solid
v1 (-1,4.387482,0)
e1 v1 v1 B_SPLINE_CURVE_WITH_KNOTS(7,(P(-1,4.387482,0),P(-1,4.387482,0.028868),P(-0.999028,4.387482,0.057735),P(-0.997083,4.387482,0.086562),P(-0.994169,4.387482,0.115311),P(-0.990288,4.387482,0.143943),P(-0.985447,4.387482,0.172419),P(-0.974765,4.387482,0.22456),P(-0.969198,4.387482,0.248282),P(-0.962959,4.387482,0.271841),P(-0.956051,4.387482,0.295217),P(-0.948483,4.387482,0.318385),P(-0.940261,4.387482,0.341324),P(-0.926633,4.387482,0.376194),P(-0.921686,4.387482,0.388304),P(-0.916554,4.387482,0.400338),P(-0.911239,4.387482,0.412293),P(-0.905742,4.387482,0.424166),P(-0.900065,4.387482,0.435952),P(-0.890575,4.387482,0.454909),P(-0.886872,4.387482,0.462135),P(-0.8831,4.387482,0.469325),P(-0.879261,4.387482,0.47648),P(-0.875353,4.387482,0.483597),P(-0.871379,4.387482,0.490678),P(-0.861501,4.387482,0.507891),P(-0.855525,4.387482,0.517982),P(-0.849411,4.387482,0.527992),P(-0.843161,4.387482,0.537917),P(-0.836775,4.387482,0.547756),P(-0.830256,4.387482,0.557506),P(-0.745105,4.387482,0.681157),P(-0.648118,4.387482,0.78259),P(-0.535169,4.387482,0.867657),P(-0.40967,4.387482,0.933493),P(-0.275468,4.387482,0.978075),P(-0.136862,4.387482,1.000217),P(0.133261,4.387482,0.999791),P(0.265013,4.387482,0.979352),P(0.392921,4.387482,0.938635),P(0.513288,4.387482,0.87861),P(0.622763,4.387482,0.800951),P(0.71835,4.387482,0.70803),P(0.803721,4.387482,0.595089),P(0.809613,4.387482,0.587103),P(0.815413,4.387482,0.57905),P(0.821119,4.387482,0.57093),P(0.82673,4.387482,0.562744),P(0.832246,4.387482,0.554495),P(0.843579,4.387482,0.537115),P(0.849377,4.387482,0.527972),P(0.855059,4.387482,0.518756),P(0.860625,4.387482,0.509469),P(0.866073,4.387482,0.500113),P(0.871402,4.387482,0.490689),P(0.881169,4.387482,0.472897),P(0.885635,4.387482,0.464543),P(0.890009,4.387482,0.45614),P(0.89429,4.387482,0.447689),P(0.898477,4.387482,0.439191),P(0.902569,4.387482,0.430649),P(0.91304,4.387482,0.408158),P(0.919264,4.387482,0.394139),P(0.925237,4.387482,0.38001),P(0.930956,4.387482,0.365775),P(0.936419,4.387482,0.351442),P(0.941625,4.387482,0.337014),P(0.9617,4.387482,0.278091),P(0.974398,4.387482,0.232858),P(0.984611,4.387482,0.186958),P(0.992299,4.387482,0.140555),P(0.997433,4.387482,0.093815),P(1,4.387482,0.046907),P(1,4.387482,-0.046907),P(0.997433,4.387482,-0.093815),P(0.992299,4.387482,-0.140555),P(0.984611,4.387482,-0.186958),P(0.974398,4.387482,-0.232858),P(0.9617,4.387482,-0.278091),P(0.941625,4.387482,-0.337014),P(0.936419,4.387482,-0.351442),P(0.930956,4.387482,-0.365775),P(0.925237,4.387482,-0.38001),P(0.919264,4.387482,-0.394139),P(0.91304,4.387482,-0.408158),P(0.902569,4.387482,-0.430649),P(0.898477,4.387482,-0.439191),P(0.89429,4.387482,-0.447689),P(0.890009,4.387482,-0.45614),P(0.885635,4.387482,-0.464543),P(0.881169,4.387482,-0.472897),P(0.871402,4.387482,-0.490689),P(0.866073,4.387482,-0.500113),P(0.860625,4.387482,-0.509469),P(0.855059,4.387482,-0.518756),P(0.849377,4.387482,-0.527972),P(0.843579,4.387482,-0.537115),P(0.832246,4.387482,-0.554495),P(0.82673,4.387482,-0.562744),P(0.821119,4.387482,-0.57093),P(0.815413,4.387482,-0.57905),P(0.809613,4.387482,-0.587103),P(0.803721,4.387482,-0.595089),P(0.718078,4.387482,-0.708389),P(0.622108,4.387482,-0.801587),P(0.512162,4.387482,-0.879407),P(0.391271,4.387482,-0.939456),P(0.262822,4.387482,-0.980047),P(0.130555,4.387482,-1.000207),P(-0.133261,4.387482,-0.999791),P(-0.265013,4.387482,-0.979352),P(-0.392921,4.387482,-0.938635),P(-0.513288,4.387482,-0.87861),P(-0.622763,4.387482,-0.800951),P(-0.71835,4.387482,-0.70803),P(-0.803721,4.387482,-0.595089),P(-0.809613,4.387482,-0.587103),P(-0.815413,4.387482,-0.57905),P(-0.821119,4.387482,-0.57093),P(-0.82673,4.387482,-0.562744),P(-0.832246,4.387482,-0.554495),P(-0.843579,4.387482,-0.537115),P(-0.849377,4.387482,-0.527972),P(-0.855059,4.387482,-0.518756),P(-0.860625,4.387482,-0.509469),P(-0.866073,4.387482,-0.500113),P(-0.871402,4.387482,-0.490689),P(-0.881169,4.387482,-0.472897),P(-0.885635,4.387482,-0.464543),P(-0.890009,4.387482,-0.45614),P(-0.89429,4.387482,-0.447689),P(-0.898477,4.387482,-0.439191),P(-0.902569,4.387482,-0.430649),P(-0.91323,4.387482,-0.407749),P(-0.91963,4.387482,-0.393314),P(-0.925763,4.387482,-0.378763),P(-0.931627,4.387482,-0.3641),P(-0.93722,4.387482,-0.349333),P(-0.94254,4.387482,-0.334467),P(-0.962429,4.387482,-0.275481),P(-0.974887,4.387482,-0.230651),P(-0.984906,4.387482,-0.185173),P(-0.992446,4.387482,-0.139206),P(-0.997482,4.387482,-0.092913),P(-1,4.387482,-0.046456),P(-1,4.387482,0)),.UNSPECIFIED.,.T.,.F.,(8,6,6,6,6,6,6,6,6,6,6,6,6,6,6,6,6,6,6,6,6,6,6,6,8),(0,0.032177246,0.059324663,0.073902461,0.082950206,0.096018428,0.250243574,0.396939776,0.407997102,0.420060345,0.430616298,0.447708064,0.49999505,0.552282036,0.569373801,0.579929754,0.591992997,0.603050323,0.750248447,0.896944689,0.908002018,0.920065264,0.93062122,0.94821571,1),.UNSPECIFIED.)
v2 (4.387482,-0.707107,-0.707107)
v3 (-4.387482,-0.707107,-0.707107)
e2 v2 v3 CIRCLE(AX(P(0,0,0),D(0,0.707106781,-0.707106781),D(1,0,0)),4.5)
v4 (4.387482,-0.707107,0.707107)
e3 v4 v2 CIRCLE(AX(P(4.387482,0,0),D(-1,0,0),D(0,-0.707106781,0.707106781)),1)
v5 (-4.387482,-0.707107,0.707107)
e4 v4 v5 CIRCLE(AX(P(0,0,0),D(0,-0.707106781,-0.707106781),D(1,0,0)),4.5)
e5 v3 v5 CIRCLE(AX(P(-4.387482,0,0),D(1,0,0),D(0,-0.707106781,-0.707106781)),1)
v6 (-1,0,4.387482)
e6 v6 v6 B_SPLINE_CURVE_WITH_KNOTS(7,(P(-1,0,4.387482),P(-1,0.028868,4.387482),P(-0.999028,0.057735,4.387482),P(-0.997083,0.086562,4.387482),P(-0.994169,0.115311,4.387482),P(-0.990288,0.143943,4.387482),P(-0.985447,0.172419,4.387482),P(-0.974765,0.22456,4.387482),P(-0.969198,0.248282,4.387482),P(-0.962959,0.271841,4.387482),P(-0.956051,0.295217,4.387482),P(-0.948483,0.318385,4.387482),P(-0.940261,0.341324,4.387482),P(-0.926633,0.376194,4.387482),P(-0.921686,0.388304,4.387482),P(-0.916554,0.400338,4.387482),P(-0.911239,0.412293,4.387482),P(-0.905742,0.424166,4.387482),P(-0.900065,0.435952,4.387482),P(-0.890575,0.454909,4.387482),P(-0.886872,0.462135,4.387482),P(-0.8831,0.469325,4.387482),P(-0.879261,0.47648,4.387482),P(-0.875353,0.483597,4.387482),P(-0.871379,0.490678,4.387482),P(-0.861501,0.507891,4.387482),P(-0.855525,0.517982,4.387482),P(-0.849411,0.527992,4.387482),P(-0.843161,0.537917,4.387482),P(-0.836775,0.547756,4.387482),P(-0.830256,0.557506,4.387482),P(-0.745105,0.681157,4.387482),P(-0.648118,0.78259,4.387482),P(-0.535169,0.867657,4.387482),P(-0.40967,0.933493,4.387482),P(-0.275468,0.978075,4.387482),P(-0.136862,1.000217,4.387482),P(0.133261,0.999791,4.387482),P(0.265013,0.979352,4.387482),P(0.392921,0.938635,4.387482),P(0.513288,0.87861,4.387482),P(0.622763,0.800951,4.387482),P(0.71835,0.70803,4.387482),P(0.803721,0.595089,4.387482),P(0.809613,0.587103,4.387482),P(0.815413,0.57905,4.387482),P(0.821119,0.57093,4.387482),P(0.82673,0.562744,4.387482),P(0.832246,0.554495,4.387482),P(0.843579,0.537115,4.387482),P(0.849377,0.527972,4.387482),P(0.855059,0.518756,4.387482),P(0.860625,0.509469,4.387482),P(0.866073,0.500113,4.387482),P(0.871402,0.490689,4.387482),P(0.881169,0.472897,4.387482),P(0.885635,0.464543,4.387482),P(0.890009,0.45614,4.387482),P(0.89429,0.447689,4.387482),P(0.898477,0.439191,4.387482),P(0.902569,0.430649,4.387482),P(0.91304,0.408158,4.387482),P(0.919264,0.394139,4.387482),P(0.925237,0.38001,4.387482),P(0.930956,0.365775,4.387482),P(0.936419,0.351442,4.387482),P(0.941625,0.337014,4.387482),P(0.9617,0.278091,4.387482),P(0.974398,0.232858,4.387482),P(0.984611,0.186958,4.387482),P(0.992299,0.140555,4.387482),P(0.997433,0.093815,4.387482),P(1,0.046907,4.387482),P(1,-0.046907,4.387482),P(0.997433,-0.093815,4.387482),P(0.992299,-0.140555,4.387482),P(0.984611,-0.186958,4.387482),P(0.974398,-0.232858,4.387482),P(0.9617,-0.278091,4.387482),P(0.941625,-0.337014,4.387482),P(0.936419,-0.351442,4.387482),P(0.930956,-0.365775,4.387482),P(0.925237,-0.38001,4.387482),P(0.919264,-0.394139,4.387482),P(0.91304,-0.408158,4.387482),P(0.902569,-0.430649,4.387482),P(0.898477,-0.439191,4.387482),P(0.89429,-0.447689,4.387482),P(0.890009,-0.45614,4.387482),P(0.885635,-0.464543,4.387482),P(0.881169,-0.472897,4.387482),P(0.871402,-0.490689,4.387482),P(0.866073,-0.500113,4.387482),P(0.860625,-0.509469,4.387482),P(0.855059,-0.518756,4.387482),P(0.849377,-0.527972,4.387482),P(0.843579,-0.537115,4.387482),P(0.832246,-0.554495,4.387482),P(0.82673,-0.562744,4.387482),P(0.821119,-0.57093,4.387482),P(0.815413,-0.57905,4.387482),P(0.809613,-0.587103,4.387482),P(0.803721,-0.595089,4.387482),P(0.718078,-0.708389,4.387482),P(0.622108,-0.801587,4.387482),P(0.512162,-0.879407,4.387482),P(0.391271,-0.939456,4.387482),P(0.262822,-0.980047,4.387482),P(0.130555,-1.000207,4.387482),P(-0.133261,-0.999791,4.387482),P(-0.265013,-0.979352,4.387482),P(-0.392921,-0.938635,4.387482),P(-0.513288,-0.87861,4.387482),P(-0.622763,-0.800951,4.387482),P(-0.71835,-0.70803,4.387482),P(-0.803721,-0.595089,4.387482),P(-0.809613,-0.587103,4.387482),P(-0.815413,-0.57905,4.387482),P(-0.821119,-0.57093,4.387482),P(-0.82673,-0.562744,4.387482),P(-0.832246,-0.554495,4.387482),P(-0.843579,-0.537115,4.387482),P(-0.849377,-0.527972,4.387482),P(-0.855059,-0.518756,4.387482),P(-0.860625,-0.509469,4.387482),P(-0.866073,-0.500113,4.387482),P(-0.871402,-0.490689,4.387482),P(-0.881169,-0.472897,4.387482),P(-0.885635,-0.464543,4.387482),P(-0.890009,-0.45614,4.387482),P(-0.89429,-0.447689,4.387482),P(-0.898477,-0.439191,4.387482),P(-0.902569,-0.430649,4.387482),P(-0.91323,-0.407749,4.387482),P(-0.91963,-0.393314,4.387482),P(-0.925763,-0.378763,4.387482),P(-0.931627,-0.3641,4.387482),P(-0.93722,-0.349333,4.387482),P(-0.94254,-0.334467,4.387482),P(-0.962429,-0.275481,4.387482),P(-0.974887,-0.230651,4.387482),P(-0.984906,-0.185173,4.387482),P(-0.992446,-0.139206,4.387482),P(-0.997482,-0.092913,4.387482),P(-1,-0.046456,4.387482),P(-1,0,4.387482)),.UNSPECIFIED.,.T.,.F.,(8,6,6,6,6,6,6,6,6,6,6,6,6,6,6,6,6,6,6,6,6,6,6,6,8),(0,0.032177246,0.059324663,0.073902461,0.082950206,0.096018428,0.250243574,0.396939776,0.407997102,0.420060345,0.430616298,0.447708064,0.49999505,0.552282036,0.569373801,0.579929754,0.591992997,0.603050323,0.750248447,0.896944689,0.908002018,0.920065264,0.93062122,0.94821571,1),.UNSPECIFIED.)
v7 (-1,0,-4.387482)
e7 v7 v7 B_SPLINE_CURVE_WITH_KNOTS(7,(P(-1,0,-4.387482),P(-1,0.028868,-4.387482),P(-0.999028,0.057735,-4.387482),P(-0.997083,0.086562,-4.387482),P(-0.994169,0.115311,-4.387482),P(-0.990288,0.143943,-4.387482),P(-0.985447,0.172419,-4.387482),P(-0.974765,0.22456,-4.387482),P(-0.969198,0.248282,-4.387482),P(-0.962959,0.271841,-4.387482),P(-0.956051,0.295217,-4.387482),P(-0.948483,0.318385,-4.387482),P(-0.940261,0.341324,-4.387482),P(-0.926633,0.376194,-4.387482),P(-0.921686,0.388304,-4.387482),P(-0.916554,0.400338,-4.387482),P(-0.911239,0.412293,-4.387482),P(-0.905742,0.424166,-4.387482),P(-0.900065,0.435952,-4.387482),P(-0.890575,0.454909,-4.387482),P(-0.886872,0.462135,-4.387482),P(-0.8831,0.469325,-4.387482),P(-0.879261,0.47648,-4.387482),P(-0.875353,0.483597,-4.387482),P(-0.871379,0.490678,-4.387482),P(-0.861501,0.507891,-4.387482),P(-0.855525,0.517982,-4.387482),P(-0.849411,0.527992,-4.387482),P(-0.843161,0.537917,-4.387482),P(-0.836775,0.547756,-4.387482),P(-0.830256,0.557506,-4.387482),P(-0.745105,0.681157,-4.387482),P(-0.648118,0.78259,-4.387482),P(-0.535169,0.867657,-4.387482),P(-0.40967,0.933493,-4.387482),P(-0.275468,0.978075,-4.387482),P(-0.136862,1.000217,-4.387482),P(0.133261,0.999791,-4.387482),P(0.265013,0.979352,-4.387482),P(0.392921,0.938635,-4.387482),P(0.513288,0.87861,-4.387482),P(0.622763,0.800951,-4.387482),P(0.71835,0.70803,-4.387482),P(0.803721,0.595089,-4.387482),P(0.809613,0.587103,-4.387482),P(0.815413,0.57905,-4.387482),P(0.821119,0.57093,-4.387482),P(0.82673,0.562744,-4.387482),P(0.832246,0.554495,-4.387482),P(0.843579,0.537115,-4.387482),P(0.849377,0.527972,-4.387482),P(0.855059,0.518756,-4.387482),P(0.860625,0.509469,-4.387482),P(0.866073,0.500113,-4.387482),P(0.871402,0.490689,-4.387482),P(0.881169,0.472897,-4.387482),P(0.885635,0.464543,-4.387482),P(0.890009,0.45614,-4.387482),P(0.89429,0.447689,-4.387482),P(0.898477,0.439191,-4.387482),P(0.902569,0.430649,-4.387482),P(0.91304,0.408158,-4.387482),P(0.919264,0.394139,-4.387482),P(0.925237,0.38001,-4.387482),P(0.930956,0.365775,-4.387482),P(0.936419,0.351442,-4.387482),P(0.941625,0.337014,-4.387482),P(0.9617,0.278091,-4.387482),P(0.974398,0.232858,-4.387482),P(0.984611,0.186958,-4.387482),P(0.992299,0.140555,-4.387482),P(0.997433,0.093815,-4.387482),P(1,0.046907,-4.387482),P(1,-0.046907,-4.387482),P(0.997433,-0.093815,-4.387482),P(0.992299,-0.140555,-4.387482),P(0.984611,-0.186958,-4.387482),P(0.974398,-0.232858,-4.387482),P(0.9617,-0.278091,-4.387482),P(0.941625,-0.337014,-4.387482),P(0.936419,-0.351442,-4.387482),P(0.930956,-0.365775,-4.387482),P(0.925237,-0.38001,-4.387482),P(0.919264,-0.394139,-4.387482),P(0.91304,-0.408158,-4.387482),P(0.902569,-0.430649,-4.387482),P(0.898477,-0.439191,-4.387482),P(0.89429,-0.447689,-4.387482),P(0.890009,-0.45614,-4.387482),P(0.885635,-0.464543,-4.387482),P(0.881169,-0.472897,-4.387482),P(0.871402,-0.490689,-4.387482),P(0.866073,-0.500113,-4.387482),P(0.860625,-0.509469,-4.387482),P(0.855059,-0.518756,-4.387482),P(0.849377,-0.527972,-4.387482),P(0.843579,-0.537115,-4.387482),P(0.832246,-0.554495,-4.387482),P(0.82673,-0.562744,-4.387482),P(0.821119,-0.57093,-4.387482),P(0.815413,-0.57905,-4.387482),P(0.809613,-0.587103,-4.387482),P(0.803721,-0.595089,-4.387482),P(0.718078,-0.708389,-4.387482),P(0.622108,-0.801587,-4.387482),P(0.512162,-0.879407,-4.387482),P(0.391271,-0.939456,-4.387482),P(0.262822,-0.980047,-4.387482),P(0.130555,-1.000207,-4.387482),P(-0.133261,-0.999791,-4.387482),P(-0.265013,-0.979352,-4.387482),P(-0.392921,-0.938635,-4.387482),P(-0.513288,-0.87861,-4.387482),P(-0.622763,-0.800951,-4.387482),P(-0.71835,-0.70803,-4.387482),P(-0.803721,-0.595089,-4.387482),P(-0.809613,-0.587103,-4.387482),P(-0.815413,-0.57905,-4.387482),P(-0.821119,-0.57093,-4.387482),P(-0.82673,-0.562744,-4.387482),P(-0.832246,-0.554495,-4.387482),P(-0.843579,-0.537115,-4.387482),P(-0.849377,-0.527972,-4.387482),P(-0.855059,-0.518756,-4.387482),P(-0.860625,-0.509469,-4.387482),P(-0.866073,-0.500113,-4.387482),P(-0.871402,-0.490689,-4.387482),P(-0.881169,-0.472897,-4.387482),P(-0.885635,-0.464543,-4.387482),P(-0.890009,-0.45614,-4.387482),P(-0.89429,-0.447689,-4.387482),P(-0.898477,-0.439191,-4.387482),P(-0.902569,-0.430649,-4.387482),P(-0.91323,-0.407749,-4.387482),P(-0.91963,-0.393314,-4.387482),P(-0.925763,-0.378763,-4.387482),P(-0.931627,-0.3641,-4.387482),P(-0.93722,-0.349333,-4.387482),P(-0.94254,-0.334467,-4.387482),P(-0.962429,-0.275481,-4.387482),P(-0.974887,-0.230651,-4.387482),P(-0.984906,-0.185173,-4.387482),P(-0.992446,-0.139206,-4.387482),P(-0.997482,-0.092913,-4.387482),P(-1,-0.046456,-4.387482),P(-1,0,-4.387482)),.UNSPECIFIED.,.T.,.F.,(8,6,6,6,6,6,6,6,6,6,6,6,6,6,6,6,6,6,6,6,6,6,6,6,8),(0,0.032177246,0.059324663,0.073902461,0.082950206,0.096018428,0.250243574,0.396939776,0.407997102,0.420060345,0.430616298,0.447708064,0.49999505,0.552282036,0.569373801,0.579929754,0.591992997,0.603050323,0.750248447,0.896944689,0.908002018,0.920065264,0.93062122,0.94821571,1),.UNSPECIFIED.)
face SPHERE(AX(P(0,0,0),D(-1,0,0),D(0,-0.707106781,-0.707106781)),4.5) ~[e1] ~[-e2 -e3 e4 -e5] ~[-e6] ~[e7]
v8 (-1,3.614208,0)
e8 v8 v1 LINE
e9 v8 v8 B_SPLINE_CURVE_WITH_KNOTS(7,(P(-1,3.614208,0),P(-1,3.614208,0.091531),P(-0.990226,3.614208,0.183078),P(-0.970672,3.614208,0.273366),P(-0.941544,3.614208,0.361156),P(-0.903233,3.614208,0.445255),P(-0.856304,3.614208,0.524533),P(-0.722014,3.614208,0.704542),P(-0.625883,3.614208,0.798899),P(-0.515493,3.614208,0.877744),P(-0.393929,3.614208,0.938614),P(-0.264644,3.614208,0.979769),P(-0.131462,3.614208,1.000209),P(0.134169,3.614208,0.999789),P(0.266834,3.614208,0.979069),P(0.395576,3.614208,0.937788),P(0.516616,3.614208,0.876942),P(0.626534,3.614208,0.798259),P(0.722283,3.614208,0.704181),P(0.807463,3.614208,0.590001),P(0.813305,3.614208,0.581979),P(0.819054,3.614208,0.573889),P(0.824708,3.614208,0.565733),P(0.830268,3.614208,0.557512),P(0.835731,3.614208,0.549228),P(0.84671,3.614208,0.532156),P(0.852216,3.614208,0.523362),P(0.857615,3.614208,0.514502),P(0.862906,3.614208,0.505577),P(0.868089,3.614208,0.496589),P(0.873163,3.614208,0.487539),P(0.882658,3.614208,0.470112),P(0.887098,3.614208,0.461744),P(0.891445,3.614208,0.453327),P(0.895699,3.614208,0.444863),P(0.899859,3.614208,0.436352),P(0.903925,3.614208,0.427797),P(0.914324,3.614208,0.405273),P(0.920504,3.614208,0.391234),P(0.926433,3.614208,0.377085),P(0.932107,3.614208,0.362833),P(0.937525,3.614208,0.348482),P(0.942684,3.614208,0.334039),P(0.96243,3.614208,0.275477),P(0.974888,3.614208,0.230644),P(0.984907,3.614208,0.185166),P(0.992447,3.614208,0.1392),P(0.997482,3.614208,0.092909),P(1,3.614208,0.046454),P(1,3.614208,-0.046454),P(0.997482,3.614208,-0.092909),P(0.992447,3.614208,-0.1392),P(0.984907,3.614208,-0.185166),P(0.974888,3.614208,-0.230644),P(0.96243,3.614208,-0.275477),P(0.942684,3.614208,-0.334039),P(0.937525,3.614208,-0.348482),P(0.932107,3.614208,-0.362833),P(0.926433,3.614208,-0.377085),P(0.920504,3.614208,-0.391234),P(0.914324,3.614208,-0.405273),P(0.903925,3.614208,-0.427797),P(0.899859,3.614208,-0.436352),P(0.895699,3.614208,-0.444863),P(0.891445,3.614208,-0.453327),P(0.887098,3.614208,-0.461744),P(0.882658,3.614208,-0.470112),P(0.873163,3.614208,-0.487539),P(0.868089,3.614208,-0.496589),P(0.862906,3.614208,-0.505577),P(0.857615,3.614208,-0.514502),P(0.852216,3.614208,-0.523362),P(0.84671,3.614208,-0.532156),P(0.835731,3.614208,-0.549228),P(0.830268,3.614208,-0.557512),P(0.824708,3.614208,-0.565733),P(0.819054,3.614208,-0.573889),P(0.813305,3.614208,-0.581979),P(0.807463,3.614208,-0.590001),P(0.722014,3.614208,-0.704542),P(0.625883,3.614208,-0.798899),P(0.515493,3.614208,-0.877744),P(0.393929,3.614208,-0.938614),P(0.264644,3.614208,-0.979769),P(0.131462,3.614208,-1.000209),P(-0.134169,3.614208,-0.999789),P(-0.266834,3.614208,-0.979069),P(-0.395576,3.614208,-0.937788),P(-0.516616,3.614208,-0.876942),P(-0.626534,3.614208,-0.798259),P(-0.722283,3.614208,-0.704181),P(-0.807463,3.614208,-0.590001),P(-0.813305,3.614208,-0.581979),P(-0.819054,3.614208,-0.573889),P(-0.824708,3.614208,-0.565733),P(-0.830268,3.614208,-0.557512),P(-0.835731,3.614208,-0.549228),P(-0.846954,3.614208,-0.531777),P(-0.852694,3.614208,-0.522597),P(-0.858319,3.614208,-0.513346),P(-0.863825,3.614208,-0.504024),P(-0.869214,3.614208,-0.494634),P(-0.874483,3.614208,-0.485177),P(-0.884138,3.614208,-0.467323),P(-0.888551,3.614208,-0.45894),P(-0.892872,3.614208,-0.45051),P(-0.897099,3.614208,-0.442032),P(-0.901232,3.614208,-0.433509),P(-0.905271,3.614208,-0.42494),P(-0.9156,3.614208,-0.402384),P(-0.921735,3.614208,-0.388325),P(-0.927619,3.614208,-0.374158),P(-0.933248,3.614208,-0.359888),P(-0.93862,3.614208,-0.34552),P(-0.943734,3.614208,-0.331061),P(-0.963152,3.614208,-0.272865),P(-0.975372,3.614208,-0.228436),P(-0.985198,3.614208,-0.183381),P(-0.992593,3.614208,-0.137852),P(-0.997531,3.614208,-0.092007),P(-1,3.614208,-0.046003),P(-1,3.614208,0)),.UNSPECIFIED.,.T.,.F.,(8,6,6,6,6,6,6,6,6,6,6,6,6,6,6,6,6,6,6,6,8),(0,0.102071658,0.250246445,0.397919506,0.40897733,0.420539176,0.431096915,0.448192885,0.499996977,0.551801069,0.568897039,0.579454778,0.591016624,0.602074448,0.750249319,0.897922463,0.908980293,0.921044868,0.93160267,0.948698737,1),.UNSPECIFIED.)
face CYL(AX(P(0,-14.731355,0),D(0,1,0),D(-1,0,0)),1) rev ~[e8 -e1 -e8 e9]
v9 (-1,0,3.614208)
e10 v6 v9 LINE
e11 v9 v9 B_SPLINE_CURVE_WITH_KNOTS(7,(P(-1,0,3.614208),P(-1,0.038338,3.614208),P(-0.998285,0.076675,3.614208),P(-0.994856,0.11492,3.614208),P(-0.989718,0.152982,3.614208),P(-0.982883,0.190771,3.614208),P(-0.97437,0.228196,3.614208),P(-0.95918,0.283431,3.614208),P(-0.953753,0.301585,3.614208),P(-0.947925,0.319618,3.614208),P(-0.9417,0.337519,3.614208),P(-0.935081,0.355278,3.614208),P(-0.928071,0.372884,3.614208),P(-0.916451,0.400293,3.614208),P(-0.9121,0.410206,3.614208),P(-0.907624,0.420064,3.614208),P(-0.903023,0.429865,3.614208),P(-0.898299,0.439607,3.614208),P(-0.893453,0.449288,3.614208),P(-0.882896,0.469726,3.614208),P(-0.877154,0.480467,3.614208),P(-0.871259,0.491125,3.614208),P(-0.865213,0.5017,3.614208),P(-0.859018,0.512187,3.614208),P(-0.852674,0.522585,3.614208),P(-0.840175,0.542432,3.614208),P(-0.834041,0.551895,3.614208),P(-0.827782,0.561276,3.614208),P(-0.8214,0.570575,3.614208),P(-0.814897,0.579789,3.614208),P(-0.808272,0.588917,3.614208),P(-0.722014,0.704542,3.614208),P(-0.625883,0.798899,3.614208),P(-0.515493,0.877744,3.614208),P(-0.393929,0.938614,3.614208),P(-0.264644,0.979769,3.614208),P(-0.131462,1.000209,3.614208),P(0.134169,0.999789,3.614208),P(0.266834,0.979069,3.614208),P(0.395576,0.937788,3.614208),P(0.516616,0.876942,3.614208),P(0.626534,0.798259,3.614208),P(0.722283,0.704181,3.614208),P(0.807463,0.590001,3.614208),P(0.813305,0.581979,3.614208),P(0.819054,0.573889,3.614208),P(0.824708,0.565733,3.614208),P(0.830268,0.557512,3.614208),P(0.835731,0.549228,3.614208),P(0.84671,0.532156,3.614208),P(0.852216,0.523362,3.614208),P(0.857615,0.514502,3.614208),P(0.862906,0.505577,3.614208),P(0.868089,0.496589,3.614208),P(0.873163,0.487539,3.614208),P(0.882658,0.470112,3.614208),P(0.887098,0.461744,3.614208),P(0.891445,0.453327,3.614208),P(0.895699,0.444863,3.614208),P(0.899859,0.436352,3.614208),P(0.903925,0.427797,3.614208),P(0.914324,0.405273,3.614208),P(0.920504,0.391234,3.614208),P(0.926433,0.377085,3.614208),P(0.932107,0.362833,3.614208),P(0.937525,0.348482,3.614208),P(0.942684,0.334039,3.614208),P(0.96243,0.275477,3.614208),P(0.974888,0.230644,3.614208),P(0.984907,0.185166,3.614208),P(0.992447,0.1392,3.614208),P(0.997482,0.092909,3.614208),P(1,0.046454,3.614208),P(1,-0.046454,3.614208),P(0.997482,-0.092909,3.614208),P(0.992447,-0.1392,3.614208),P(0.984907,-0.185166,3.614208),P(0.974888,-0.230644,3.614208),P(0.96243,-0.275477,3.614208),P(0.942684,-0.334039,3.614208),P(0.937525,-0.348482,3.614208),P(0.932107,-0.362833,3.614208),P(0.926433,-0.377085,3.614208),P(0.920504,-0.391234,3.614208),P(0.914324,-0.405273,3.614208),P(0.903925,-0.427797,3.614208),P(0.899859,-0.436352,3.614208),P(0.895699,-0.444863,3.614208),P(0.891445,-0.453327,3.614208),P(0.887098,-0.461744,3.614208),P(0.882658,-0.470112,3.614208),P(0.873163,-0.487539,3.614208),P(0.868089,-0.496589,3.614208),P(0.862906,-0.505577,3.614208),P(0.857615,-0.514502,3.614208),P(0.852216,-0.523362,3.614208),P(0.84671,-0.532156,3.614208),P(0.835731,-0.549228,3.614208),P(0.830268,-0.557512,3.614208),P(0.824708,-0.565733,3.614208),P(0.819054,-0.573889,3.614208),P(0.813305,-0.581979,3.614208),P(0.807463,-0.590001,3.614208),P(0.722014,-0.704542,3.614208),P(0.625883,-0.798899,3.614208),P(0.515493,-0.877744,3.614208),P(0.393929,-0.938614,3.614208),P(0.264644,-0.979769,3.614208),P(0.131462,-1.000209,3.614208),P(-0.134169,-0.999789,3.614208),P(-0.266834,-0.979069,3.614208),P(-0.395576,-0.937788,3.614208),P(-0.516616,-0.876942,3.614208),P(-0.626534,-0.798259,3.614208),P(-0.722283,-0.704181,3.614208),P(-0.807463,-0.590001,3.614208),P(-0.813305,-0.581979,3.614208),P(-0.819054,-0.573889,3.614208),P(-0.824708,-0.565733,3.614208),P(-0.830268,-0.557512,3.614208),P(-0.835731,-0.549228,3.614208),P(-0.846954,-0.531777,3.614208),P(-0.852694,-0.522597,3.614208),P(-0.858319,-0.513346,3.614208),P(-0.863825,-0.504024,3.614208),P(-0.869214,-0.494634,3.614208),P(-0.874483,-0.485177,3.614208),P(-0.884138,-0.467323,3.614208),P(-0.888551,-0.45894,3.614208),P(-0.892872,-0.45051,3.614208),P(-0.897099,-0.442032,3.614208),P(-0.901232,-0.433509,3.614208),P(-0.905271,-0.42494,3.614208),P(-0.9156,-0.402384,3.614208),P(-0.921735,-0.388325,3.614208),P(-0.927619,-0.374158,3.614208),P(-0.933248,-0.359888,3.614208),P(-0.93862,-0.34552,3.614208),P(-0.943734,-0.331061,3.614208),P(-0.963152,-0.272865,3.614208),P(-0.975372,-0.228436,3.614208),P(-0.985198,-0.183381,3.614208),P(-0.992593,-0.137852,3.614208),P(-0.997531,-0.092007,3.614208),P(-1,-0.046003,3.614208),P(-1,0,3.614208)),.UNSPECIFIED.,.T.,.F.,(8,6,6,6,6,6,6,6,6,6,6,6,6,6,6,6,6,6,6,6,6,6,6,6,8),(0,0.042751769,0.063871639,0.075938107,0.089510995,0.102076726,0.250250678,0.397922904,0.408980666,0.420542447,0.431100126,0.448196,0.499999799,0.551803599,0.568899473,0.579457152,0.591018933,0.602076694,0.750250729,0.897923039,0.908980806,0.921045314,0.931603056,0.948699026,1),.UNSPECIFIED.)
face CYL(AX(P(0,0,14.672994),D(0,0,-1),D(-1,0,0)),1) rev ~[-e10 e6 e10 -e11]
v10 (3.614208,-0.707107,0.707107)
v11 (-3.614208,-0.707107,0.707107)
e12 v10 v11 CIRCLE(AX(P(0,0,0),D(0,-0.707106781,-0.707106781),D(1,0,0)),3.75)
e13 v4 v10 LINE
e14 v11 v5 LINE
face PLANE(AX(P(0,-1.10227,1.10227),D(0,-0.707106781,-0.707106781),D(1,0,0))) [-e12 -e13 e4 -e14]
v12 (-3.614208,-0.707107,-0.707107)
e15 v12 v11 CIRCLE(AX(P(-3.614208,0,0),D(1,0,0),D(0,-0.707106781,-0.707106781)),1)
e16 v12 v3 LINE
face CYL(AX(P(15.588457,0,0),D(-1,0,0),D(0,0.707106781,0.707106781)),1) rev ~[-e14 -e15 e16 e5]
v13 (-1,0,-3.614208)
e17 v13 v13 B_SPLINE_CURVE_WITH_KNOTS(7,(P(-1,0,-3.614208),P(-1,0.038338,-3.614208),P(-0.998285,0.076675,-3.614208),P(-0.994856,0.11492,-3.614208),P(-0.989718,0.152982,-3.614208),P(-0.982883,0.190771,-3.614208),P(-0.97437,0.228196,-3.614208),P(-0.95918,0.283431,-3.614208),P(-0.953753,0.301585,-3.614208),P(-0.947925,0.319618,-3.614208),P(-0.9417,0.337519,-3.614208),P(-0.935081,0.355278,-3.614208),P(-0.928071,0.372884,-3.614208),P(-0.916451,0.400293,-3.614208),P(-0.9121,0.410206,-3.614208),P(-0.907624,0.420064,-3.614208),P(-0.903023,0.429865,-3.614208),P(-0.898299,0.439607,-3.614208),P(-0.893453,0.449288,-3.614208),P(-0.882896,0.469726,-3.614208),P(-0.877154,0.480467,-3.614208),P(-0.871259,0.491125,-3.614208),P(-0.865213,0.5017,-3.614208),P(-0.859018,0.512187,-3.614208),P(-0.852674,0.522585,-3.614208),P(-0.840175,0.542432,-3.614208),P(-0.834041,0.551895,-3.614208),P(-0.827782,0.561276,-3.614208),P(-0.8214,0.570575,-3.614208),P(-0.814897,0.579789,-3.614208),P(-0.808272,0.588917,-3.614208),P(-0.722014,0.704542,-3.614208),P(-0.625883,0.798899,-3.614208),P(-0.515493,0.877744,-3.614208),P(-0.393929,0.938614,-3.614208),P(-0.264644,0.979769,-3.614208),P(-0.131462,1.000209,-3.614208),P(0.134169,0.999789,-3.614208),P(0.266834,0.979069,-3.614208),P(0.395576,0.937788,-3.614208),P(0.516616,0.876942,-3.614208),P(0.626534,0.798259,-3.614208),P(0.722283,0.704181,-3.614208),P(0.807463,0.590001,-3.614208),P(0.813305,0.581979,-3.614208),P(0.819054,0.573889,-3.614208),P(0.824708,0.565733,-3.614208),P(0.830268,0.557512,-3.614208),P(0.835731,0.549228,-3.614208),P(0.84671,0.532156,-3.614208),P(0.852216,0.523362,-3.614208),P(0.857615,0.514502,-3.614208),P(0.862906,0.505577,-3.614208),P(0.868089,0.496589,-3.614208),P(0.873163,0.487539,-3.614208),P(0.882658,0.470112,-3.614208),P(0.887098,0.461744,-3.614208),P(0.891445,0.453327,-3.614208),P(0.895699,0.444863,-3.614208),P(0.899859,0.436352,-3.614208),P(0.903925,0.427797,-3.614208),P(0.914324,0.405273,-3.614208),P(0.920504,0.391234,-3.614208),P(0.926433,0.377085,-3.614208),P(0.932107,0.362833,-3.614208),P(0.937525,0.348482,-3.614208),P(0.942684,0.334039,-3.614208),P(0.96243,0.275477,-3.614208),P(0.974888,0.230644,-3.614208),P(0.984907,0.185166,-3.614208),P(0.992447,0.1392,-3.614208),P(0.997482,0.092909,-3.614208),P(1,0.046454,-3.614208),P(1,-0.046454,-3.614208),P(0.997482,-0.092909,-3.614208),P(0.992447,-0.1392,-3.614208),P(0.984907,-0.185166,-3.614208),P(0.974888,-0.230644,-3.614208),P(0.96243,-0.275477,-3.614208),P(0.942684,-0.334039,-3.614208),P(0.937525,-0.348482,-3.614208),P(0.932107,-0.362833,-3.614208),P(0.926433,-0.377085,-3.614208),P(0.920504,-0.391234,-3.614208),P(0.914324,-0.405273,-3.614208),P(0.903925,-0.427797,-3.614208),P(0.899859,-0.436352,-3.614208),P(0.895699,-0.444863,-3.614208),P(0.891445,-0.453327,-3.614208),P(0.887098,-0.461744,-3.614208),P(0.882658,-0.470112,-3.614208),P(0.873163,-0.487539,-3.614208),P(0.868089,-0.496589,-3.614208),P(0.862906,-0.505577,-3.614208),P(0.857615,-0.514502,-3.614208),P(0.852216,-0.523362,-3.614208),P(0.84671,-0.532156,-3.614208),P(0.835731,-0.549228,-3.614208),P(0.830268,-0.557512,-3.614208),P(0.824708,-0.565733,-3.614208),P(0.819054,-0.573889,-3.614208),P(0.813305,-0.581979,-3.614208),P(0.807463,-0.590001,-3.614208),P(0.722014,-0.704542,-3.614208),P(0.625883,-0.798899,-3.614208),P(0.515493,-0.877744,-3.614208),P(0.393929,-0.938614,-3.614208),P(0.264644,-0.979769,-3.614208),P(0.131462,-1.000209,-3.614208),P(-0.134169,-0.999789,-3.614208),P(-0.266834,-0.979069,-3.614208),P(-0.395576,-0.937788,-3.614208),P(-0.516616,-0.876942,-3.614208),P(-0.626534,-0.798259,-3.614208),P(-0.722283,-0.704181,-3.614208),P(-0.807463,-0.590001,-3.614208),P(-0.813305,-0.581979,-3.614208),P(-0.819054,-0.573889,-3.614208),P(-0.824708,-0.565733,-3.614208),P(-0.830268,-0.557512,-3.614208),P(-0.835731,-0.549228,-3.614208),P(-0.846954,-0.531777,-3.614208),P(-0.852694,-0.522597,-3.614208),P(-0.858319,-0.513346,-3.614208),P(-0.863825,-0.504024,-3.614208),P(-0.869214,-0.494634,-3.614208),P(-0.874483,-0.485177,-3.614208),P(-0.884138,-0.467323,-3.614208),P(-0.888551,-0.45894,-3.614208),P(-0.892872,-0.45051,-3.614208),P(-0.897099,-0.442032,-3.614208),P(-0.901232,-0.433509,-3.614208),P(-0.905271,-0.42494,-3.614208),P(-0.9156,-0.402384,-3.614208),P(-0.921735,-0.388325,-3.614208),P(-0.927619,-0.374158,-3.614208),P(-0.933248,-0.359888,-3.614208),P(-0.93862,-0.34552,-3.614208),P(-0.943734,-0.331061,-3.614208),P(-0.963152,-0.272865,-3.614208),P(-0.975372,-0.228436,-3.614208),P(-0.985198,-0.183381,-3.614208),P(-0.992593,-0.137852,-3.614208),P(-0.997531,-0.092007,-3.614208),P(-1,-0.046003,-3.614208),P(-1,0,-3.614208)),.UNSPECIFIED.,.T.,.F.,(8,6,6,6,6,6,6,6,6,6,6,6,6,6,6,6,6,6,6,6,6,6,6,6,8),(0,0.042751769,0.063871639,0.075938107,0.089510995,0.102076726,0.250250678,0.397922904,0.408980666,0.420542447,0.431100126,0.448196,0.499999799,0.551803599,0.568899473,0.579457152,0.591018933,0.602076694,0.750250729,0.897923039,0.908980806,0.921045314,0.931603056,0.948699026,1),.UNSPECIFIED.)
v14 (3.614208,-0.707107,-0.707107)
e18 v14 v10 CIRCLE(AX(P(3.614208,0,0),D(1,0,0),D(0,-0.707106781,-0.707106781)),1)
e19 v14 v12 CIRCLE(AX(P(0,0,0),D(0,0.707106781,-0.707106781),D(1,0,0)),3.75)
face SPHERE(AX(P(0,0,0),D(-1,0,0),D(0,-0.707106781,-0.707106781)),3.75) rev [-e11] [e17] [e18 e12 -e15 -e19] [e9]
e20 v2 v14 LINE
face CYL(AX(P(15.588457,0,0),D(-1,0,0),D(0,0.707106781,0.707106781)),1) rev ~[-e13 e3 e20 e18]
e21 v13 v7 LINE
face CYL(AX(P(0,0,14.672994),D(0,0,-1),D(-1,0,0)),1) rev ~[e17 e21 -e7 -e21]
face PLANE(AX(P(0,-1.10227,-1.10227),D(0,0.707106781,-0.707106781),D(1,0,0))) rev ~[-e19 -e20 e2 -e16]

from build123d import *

# Parameters (mm, degrees)
F1_ANGLE = 270
F14_T    = -0.75
F3_D     = 2
F5_D     = 2
F7_ANGLE = 135
F9_D     = 2
F11_D    = 2
F13_D    = 2


with BuildPart() as f1:
    # F0 (on Top) → F1 (revolve)
    with BuildSketch(Plane.XY):
        with BuildLine():
            ThreePointArc((4.5, 0), (0, 4.5), (-4.5, 0))
            Line((-4.5, 0), (4.5, 0))
        make_face()
    revolve(axis=Axis((0.171331, 0, 0), (1, 0, 0)), revolution_arc=F1_ANGLE)

    # F14
    f14_openings = [f1.faces().sort_by_distance(p)[0] for p in [
        (0, 1.909859, 0),
        (0, 0, -1.909859),
    ]]
    offset(amount=F14_T, openings=f14_openings)

    # F3 (through all)
    with Locations(Plane.YZ):
        with Locations((0, 0)):
            Hole(F3_D / 2)

    # F5 (through all)
    with Locations(Plane(origin=(0, 0, 0), x_dir=(0, 1, 0), z_dir=(-1, 0, 0))):
        with Locations((0, 0)):
            Hole(F5_D / 2)


with BuildPart() as f1_1:
    # F7: moved
    add(f1.part.rotate(Axis((0, 0, 0), (-1, 0, 0)), F7_ANGLE))

    # F9 (through all)
    with Locations(Plane.XZ):
        with Locations((0, 0)):
            Hole(F9_D / 2)

    # F11 (through all)
    with Locations(Plane.XY):
        with Locations((0, 0)):
            Hole(F11_D / 2)

    # F13 (through all)
    with Locations(Plane(origin=(0, 0, 0), x_dir=(1, 0, 0), z_dir=(0, 0, -1))):
        with Locations((0, 0)):
            Hole(F13_D / 2)


solid = f1_1.part
